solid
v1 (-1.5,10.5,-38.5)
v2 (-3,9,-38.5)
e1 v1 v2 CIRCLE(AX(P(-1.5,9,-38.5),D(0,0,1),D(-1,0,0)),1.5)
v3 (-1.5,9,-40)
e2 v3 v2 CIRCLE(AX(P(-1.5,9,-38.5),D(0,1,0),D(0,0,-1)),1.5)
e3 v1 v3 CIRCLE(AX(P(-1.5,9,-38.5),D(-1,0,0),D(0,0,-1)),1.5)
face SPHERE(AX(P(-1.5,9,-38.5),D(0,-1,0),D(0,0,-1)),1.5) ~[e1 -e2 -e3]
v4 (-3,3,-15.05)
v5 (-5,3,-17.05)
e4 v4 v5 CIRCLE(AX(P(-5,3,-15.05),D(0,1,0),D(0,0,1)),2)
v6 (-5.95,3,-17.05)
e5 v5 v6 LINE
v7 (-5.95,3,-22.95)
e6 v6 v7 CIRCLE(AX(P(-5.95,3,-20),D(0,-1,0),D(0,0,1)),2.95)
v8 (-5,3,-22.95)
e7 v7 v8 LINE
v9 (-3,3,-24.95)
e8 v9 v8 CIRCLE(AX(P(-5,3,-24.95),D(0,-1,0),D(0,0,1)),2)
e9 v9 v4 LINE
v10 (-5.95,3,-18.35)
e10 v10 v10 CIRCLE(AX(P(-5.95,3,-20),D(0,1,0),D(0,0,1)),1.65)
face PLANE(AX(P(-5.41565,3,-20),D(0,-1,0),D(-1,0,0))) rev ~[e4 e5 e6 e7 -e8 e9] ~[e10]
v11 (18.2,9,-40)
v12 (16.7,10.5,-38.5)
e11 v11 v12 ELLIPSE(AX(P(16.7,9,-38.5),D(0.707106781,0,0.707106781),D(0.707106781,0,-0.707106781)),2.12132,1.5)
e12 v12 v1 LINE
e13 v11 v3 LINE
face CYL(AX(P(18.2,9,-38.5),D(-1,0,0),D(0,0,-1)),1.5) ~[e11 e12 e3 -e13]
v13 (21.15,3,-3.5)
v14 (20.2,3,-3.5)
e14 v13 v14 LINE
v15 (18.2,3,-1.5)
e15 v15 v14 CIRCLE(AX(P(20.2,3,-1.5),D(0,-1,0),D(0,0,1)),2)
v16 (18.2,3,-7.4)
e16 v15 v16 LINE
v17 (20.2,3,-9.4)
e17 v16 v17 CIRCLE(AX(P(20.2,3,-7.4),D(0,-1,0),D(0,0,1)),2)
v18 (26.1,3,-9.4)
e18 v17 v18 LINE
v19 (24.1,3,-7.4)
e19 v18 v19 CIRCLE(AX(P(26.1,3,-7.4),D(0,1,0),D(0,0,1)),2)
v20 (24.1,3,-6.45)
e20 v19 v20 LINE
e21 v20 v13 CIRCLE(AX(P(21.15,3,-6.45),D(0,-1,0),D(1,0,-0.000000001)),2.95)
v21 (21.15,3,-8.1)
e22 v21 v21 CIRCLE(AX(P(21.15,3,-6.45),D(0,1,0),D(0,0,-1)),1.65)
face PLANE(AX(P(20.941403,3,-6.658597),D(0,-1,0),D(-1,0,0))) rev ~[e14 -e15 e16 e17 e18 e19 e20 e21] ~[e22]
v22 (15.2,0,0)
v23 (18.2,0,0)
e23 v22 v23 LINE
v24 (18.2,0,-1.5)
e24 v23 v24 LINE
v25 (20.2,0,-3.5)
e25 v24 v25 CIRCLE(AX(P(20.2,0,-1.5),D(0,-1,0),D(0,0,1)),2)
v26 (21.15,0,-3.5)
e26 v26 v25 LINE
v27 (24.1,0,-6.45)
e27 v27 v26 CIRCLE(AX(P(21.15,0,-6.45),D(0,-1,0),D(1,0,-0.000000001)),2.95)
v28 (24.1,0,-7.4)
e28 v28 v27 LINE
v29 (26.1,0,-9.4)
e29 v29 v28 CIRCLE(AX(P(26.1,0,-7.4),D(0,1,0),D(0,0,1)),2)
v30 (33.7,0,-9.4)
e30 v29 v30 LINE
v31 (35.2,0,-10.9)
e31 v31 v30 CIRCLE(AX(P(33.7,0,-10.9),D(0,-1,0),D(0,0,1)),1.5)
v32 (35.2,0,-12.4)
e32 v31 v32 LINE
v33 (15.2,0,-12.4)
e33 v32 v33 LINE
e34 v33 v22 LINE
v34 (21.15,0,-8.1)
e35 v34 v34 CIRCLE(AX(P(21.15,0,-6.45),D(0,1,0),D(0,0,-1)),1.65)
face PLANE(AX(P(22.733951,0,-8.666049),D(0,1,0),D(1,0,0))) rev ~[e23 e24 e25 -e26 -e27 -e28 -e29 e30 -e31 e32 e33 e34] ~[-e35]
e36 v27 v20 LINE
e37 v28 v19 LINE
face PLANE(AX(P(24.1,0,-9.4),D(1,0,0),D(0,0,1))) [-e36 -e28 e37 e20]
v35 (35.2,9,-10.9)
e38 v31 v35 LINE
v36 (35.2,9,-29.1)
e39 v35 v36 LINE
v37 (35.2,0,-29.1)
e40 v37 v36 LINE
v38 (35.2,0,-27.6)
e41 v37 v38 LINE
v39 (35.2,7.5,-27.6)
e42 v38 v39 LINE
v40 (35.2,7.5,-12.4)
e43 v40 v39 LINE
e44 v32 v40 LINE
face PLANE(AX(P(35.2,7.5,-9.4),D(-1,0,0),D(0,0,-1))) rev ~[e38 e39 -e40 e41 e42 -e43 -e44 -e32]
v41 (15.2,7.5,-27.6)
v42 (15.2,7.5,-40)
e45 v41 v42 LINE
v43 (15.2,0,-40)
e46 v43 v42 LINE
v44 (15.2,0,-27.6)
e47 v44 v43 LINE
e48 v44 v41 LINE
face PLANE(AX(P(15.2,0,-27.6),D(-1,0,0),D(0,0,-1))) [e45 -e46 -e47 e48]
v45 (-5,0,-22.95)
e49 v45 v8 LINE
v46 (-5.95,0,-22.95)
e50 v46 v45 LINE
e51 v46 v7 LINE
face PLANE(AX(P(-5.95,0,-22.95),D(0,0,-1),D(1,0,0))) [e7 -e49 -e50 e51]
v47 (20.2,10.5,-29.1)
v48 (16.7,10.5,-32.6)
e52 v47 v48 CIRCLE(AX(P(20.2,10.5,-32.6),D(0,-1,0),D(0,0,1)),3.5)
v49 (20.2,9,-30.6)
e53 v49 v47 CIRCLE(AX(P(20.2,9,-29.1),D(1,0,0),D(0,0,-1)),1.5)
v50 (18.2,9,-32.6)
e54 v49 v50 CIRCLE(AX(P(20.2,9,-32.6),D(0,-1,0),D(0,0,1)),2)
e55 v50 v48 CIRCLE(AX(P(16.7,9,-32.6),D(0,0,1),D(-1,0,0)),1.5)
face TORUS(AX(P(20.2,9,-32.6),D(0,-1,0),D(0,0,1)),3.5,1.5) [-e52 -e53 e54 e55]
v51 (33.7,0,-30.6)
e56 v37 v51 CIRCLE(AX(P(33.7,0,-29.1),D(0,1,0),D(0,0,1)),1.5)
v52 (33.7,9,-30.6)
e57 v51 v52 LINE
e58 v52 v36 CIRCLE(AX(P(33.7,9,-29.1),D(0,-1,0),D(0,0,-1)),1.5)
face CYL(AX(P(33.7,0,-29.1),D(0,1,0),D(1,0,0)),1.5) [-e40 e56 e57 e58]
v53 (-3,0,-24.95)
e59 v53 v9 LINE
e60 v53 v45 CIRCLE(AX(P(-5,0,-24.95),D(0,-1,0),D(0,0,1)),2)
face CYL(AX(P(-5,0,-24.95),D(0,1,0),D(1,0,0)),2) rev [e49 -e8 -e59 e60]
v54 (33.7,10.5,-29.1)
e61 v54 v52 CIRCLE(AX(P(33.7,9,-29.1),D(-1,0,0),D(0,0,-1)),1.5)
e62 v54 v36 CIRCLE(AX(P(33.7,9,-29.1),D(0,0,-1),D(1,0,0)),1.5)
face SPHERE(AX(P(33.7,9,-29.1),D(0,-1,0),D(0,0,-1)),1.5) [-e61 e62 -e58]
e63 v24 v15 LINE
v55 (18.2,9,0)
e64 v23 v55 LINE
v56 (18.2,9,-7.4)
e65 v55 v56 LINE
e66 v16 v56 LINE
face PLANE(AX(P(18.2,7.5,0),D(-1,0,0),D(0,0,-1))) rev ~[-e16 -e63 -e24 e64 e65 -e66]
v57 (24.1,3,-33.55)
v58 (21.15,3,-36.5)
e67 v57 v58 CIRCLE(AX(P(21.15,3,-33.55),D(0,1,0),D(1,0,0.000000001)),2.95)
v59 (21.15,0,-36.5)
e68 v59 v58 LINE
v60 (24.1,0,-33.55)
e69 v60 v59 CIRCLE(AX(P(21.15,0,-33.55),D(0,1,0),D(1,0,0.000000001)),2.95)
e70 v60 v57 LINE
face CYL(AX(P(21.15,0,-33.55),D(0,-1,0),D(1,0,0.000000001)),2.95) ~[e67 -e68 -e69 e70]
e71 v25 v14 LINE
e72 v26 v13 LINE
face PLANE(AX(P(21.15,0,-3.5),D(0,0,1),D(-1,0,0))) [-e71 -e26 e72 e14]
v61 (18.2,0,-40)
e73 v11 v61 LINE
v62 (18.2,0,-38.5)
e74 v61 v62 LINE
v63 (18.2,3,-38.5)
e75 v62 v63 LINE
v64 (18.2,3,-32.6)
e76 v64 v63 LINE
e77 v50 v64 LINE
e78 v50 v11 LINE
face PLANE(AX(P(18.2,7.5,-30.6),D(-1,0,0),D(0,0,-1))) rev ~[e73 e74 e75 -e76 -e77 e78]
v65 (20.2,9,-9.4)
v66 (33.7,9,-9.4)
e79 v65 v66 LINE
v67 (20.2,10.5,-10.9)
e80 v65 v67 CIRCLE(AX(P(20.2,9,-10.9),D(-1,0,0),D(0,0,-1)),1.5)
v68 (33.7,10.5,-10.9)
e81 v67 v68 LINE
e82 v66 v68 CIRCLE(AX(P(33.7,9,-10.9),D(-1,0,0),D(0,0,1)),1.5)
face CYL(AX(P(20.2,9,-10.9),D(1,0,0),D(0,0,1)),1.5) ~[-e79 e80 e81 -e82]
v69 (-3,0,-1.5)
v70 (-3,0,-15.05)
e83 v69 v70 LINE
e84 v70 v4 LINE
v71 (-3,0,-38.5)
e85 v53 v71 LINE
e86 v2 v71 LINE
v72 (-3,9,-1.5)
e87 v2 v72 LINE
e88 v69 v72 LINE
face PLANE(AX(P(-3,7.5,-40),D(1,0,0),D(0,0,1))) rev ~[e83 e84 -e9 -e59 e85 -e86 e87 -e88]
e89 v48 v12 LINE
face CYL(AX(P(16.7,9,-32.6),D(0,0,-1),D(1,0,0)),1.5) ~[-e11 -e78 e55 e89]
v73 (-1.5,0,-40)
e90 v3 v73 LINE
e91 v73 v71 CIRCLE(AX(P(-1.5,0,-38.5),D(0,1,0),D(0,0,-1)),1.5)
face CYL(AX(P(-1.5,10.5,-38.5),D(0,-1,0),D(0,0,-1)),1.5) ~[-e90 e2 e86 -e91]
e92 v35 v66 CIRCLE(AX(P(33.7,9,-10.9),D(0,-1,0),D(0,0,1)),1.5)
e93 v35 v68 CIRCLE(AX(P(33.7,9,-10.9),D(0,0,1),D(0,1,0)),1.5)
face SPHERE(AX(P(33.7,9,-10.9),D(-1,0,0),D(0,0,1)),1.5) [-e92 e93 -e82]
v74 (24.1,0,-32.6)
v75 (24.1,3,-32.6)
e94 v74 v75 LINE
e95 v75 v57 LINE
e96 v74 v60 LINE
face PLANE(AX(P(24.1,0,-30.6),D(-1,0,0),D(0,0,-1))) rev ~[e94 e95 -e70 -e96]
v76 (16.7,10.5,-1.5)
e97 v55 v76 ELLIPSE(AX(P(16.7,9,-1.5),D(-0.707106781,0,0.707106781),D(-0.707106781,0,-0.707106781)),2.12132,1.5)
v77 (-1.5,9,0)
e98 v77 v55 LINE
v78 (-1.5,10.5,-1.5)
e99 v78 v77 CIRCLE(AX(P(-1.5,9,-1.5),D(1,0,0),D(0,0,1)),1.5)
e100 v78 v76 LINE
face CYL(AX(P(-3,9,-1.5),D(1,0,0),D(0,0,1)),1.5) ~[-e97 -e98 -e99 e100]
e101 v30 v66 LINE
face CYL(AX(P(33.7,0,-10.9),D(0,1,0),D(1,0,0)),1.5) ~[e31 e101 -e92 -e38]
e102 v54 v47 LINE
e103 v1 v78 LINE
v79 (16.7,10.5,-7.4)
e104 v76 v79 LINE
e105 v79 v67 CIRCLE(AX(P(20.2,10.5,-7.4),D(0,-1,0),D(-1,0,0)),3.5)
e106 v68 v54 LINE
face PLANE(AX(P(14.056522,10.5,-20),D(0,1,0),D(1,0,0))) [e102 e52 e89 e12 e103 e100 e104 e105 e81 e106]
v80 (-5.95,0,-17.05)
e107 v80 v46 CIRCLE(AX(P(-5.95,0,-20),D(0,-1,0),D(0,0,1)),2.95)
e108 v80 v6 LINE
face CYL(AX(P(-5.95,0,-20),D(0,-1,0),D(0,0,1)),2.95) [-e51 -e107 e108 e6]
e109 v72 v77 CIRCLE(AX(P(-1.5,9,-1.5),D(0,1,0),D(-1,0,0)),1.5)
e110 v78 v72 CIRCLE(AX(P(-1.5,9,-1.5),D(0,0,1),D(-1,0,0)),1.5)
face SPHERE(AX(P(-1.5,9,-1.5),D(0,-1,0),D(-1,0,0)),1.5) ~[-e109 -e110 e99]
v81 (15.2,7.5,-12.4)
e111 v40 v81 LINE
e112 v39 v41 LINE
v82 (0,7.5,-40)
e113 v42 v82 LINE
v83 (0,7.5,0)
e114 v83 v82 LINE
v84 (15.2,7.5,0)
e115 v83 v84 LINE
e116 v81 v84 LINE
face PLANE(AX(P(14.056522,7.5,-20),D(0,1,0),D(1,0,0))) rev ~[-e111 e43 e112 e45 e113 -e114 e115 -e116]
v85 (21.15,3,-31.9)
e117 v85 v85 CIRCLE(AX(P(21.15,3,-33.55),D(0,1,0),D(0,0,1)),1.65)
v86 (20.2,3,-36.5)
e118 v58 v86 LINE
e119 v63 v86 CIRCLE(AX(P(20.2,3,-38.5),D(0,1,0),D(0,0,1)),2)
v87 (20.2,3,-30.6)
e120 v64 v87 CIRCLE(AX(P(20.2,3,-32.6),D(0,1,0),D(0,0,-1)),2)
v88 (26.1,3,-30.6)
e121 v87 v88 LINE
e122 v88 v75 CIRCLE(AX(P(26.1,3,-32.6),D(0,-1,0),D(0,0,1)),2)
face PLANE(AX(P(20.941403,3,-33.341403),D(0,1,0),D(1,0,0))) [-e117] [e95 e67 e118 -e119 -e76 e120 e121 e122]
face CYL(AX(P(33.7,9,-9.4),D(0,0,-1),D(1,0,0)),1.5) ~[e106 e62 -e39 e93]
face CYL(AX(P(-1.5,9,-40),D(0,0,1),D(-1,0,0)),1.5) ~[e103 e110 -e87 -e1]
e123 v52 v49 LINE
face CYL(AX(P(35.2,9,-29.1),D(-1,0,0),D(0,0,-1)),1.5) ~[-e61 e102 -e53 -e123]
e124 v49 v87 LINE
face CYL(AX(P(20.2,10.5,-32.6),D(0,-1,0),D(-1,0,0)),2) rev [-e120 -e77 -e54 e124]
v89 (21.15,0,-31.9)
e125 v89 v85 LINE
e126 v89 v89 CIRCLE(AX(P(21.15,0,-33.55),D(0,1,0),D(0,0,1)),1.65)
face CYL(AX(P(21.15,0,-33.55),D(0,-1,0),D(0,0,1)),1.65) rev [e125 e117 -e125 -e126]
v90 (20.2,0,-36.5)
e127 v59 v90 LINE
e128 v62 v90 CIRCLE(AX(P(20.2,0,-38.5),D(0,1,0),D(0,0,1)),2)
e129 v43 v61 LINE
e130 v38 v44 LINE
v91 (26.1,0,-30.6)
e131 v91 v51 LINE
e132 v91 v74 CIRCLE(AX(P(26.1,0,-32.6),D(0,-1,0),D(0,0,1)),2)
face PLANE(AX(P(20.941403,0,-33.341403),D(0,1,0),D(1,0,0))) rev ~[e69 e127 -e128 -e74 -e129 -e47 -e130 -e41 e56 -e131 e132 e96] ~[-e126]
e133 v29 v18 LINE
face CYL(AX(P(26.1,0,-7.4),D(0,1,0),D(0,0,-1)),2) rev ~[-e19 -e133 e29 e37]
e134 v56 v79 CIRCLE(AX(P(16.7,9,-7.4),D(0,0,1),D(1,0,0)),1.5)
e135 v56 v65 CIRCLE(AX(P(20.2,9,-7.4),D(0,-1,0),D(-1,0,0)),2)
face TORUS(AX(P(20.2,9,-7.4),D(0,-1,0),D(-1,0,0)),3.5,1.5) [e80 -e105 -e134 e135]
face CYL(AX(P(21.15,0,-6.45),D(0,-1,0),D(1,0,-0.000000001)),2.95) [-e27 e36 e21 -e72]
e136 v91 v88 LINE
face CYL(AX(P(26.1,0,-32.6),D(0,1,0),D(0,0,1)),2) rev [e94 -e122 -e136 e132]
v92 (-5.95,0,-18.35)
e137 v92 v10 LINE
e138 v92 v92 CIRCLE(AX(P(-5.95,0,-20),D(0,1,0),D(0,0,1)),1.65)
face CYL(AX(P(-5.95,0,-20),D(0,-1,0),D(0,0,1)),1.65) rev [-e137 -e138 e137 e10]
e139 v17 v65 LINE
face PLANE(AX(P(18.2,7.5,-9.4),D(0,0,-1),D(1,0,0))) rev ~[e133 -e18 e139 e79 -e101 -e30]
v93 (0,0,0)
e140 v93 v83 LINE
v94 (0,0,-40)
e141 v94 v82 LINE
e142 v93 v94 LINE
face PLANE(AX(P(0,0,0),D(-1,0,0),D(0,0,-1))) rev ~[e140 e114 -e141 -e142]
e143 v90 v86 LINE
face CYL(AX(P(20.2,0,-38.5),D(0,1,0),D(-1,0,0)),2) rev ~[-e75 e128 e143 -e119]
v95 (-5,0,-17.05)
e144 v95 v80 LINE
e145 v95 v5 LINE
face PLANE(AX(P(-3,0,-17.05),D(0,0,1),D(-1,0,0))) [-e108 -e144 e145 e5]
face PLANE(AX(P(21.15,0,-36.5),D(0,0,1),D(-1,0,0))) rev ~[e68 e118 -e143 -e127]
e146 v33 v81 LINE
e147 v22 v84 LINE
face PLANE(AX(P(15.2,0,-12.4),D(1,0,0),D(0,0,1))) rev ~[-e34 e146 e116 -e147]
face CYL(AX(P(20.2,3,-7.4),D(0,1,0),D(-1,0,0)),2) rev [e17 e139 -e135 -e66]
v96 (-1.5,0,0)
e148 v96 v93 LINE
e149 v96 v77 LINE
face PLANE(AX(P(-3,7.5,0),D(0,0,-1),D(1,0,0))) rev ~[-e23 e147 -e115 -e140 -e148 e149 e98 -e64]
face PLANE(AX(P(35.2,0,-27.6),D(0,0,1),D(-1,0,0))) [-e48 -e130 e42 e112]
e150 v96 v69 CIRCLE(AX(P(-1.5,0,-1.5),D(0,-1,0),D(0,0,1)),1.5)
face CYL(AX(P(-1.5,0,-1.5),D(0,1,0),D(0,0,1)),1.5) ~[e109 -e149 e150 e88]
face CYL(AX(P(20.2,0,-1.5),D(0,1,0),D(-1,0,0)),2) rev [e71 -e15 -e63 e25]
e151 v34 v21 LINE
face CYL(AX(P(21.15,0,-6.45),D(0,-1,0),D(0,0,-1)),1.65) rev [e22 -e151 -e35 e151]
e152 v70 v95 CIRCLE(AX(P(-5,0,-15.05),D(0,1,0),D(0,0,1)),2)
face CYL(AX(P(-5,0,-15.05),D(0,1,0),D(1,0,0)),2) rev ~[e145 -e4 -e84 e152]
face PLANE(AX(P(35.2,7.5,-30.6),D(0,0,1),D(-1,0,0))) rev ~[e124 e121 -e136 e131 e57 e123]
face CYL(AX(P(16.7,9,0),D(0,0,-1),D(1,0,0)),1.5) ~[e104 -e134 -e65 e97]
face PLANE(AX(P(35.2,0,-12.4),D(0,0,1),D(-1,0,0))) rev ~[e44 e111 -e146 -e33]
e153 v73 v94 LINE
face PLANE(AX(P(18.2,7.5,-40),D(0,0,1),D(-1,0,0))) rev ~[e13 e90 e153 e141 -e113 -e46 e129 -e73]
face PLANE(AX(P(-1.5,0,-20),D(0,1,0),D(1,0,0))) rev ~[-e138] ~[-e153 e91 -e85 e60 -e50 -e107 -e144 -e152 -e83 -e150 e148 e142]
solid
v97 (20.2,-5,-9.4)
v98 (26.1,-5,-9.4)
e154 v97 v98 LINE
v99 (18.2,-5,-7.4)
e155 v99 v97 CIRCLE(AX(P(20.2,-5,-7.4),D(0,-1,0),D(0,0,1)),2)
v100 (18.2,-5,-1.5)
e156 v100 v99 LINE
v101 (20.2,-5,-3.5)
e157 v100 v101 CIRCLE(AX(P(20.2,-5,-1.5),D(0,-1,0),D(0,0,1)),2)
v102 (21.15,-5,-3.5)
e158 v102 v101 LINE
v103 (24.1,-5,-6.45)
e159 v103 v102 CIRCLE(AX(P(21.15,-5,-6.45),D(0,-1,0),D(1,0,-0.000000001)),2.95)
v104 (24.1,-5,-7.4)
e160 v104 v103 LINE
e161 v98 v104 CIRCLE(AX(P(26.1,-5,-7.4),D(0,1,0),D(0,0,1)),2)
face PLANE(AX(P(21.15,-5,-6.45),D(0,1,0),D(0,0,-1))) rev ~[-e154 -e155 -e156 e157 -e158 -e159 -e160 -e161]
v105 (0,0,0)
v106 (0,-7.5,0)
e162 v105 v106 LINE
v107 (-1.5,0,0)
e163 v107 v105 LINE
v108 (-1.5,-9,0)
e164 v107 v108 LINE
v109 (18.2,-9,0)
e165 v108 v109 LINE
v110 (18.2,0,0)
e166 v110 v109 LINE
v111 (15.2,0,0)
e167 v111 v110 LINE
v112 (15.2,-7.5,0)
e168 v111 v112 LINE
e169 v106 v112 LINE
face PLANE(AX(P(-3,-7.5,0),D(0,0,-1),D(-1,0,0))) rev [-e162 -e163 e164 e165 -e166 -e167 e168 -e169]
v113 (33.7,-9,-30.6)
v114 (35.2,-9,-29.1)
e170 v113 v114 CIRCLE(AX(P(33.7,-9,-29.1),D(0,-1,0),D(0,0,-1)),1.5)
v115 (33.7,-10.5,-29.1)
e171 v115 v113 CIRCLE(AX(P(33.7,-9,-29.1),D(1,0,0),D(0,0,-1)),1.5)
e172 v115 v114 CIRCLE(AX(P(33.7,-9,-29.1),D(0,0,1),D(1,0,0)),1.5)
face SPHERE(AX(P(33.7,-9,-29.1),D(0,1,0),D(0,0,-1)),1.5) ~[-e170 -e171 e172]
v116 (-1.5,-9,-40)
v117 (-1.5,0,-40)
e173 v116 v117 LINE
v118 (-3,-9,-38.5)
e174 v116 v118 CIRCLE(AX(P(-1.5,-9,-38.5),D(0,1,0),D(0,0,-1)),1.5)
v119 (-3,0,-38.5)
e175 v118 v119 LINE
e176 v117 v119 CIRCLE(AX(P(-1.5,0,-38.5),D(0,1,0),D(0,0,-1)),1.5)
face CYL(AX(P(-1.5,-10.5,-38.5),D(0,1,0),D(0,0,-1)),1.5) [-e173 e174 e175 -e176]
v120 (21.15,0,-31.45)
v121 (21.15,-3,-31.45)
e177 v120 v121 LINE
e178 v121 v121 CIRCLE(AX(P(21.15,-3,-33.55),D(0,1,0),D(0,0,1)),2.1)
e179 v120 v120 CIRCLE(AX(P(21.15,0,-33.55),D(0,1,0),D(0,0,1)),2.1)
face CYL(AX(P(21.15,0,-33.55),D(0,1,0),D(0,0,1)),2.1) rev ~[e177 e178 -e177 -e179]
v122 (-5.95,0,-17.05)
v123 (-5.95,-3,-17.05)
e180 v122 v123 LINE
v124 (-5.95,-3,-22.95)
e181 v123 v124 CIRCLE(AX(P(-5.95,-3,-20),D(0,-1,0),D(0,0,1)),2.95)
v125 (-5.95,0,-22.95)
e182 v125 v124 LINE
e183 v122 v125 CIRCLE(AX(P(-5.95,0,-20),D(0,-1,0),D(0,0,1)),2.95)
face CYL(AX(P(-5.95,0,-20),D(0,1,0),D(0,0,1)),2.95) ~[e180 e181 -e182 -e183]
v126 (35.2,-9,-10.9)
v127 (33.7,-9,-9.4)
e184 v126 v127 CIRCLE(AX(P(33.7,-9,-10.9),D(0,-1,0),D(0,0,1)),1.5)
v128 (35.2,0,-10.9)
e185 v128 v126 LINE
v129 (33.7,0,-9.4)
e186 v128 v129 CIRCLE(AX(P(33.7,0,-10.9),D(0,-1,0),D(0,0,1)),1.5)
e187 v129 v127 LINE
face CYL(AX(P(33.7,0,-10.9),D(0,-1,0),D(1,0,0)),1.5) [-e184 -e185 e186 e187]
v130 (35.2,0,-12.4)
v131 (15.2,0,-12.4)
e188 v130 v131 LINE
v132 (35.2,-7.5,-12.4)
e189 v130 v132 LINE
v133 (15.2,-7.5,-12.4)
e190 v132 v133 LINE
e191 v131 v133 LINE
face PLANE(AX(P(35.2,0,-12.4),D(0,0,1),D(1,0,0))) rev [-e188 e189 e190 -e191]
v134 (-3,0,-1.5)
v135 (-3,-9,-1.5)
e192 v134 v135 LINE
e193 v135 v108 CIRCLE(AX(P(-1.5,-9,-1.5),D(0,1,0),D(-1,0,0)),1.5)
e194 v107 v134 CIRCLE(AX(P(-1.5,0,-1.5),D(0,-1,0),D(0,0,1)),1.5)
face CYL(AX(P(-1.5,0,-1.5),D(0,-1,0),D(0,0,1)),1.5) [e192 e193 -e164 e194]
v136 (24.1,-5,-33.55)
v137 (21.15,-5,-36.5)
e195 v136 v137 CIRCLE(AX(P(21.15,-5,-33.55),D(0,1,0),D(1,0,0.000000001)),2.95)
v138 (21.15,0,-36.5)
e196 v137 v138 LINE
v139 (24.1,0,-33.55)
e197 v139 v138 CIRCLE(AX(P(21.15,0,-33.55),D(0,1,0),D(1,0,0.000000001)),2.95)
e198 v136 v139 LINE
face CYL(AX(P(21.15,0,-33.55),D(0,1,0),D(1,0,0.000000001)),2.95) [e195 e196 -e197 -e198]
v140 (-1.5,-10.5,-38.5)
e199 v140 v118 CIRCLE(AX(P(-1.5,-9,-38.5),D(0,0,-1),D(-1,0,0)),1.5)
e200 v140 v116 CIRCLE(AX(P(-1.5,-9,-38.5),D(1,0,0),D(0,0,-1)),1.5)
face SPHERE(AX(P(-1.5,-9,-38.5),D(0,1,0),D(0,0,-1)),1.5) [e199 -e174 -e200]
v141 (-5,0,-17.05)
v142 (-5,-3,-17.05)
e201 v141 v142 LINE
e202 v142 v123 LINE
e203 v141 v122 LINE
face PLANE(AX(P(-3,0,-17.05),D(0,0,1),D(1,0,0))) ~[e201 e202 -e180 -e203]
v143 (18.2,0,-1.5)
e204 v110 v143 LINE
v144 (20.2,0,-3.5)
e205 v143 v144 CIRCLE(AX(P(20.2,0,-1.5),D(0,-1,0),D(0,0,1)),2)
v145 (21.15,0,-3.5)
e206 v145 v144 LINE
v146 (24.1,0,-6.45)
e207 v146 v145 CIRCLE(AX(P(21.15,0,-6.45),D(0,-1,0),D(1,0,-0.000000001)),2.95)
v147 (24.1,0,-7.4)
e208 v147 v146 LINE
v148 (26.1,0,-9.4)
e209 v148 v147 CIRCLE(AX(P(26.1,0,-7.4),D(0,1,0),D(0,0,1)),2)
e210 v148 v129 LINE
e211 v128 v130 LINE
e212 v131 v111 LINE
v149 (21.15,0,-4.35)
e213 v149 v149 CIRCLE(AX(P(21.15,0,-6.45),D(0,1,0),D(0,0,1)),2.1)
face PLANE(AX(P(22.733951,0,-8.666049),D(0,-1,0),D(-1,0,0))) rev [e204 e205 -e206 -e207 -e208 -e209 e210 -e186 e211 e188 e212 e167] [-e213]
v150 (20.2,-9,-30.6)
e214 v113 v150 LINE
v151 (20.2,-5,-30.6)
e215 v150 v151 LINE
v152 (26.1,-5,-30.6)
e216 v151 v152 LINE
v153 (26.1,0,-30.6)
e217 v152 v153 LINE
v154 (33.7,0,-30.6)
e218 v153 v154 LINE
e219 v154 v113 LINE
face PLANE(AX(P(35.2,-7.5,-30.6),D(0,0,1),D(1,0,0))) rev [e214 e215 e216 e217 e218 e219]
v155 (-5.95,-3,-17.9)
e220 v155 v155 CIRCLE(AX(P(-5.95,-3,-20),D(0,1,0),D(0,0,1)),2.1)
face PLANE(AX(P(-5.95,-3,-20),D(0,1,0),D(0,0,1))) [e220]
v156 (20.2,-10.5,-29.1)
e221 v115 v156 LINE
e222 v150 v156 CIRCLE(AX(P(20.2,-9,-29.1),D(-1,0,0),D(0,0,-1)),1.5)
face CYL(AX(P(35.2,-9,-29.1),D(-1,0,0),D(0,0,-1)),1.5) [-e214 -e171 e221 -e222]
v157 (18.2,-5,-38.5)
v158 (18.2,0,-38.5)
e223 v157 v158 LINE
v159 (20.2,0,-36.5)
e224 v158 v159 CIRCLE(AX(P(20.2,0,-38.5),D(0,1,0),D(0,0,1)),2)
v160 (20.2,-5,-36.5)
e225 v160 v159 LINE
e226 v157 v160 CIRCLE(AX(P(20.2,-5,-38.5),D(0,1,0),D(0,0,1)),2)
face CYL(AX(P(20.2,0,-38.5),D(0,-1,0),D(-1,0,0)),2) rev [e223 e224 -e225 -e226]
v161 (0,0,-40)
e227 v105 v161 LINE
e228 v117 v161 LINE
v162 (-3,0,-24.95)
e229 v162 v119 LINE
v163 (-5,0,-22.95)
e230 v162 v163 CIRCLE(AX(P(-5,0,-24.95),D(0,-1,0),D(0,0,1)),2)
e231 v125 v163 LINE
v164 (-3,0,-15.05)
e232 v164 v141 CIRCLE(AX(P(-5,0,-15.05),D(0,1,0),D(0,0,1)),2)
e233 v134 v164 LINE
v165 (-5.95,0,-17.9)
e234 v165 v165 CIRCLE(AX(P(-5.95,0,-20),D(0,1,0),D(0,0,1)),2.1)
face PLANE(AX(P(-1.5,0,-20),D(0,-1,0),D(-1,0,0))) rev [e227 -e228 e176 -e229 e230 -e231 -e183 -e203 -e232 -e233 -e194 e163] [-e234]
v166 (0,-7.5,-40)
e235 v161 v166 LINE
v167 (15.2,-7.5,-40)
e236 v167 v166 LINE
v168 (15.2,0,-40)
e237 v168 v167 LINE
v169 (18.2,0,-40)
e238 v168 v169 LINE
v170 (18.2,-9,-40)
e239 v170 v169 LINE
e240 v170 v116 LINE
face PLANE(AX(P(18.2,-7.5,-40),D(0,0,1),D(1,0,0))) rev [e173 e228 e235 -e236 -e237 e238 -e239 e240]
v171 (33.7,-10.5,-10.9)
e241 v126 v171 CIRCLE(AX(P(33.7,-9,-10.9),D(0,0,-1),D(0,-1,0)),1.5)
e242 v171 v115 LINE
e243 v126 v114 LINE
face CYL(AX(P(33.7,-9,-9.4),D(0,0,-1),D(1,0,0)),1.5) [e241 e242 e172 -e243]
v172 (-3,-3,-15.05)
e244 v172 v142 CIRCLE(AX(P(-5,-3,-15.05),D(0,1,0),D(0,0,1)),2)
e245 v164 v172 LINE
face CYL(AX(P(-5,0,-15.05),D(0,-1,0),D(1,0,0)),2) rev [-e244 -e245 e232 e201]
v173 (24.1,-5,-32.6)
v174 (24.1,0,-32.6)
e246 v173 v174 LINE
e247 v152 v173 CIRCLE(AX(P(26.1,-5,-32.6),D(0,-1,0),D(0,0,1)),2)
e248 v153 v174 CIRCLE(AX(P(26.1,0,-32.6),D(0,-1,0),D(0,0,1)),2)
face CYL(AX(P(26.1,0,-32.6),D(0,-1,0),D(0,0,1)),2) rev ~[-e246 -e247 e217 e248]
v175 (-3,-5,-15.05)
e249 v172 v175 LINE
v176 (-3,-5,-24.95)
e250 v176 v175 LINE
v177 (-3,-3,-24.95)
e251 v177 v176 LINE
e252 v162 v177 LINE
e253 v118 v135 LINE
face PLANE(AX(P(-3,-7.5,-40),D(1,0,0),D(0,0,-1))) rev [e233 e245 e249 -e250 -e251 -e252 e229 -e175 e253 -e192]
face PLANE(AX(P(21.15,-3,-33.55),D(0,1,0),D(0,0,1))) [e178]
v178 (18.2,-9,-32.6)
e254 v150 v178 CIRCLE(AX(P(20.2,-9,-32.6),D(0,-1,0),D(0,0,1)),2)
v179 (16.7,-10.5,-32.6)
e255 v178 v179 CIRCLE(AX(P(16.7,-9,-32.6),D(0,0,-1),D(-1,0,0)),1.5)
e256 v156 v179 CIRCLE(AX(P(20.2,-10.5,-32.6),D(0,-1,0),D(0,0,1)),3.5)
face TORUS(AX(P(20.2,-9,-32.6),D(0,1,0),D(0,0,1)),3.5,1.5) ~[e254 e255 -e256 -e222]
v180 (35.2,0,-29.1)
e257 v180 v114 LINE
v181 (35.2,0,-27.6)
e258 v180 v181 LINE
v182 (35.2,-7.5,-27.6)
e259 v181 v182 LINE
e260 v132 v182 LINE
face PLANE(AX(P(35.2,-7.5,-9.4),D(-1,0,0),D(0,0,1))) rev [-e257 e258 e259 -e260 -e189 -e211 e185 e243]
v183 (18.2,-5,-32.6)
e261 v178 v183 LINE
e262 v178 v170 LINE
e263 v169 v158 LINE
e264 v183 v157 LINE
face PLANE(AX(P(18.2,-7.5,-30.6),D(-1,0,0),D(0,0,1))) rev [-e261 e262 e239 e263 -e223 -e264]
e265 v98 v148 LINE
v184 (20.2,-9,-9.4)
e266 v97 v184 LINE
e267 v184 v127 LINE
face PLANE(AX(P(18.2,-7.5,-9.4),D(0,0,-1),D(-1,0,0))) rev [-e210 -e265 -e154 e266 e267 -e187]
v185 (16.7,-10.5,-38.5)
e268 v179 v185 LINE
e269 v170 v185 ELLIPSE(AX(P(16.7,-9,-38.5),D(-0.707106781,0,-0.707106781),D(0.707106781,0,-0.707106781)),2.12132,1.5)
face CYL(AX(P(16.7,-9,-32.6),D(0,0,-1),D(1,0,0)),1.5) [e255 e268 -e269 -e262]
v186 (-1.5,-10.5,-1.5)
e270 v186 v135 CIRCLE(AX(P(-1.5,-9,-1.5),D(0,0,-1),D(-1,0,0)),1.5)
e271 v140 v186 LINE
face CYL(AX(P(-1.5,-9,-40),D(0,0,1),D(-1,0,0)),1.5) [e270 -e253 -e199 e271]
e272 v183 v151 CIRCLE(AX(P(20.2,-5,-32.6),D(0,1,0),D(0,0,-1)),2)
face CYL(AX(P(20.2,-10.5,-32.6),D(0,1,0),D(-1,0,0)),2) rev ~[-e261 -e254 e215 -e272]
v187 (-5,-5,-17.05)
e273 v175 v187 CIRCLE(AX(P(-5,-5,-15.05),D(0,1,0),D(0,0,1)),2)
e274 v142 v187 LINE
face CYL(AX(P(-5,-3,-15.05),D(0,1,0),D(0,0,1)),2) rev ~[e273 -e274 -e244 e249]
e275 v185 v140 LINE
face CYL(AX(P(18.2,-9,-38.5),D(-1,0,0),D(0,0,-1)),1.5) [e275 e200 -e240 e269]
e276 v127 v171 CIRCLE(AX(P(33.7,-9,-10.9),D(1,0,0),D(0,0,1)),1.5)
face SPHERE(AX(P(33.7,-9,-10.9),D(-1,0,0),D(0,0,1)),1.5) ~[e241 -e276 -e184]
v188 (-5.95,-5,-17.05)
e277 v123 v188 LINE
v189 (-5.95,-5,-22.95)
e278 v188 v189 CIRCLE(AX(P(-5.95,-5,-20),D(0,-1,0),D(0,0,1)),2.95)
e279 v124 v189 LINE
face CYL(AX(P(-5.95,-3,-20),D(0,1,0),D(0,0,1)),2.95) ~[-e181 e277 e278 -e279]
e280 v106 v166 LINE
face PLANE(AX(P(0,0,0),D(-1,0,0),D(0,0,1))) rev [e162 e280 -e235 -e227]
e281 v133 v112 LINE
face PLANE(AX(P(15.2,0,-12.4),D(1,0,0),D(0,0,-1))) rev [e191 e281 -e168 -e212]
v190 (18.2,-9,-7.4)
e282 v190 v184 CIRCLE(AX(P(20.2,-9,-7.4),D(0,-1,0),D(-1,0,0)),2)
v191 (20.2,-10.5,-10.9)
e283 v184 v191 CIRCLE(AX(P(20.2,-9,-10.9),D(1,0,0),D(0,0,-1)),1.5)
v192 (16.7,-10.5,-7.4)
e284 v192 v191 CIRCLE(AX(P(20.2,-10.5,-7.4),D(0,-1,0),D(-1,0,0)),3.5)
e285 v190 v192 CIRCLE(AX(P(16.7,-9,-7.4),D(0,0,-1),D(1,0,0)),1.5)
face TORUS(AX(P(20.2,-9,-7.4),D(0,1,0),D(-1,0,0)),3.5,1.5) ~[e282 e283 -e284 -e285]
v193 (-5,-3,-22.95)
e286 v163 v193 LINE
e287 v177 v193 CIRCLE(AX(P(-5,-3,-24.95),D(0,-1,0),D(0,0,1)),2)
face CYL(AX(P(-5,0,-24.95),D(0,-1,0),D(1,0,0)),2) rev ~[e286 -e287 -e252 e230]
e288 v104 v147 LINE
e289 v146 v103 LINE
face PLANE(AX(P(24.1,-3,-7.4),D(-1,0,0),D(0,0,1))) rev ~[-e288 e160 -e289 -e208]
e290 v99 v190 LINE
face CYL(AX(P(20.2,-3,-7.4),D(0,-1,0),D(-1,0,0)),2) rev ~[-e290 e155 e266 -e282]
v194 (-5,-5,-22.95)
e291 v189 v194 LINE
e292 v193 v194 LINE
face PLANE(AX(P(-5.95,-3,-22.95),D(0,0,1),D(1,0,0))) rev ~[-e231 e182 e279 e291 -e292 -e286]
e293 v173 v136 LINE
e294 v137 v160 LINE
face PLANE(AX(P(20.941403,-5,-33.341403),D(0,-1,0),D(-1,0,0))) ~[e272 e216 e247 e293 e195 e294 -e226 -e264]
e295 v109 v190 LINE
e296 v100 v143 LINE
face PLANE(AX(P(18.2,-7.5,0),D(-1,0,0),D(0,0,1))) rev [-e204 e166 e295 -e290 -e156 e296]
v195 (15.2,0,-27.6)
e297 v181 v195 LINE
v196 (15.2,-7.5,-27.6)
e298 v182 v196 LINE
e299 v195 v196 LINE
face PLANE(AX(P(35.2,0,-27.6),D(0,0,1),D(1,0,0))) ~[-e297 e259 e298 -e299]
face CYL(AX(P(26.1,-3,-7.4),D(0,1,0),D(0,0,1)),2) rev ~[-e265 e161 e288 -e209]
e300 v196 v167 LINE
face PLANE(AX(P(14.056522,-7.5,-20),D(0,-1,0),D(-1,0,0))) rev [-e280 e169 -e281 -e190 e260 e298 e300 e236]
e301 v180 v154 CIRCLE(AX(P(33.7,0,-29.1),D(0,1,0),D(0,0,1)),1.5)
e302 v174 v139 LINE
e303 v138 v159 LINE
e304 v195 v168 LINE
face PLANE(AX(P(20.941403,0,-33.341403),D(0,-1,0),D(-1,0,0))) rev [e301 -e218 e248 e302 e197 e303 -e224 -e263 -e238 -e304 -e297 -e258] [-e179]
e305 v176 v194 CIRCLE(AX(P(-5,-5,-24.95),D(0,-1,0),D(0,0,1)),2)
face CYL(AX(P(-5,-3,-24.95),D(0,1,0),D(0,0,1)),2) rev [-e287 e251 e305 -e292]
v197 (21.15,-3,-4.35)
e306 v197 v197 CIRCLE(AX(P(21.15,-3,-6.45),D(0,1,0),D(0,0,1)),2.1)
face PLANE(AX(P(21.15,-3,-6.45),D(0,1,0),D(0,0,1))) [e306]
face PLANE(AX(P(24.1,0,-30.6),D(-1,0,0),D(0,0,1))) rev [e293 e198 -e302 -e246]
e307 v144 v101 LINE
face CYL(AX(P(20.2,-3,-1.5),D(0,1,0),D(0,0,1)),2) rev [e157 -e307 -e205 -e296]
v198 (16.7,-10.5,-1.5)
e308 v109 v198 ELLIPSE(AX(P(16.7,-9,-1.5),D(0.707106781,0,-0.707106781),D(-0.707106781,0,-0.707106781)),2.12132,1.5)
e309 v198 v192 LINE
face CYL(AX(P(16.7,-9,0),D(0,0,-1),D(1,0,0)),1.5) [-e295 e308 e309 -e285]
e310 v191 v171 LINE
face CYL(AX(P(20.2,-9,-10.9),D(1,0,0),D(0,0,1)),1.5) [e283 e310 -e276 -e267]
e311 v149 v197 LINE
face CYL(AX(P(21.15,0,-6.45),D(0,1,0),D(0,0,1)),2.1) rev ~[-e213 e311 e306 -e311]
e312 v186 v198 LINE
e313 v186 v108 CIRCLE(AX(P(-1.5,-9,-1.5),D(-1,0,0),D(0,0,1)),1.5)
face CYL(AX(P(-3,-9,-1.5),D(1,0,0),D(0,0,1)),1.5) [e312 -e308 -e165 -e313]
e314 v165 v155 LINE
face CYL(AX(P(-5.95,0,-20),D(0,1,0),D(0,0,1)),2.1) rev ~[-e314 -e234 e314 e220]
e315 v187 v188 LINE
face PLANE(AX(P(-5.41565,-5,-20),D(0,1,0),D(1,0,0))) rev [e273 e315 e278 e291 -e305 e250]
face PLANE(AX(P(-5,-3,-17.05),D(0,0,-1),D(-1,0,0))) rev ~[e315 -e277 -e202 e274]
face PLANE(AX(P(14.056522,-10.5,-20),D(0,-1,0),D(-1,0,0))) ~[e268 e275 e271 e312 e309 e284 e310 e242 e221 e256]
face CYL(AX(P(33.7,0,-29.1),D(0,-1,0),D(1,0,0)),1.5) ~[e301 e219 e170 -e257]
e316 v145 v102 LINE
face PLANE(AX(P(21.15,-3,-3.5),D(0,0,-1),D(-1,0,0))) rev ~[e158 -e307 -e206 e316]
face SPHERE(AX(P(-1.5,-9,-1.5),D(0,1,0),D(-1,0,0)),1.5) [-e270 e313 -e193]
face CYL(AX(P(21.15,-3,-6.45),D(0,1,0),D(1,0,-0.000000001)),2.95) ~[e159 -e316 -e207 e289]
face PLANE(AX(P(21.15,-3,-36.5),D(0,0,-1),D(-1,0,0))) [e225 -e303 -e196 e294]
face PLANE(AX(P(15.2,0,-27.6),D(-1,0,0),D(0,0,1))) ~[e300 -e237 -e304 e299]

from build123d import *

# Parameters (mm, degrees)
BOSS_EXTRUDE1_DEPTH   = 7.5
BOSS_EXTRUDE1_2_DEPTH = 7.5
SKETCH3_W             = 3
SKETCH3_H             = 40
BOSS_EXTRUDE1_3_DEPTH = 7.5
BOSS_EXTRUDE2_DEPTH   = 3
SKETCH5_R             = 1.65
BOSS_EXTRUDE3_DEPTH   = 3
FILLET1_R             = 2
FILLET2_R             = 2
FILLET3_R             = 1.5
BOSS_EXTRUDE4_START   = -3
SKETCH6_R             = 1.65
BOSS_EXTRUDE4_DEPTH   = 3
MOVE_FACE1_BY         = 2
MOVE_FACE1_2_BY       = 2
MOVE_FACE1_3_BY       = 2
SKETCH7_R             = 2.1
CUT_EXTRUDE1_DEPTH    = 3


with BuildPart() as part:
    # Sketch3 → Boss-Extrude1 (new body)
    with BuildSketch(Plane(origin=(0, 0, 0), x_dir=(1, 0, 0), z_dir=(0, 1, 0))):
        Polygon((35.2, 27.6), (15.2, 27.6), (15.2, 40), (18.2, 40), (18.2, 30.6), (35.2, 30.6), align=None)
    extrude(amount=BOSS_EXTRUDE1_DEPTH)



with BuildPart() as body_2:
    # Sketch3 → Boss-Extrude1 2 (new body)
    with BuildSketch(Plane(origin=(0, 0, 0), x_dir=(1, 0, 0), z_dir=(0, 1, 0))):
        Polygon((18.2, 9.4), (35.2, 9.4), (35.2, 12.4), (15.2, 12.4), (15.2, 0), (18.2, 0), align=None)
    extrude(amount=BOSS_EXTRUDE1_2_DEPTH)


with BuildPart() as body_3:
    # Sketch3 → Boss-Extrude1 3 (new body)
    with BuildSketch(Plane(origin=(0, 0, 0), x_dir=(1, 0, 0), z_dir=(0, 1, 0))):
        with Locations((-1.5, 20)):
            Rectangle(SKETCH3_W, SKETCH3_H)
    extrude(amount=BOSS_EXTRUDE1_3_DEPTH)


with BuildPart() as part_1:
    add(part.part)

    add(body_2.part)  # Boss-Extrude2 merges body 2

    add(body_3.part)  # Boss-Extrude2 merges body 3
    # Sketch4 → Boss-Extrude2 (add)
    with BuildSketch(Plane(origin=(0, 7.5, 0), x_dir=(1, 0, 0), z_dir=(0, 1, 0))):
        Polygon((-3, 40), (-3, 0), (18.2, 0), (18.2, 9.4), (35.2, 9.4), (35.2, 30.6), (18.2, 30.6), (18.2, 40), align=None)
    extrude(amount=BOSS_EXTRUDE2_DEPTH)

    # Sketch5 → Boss-Extrude3 (add)
    with BuildSketch(Plane(origin=(0, 0, 0), x_dir=(1, 0, 0), z_dir=(0, 1, 0))):
        with BuildLine():
            Line((21.15, 36.5), (18.2, 36.5))
            Line((18.2, 36.5), (18.2, 30.6))
            Line((18.2, 30.6), (24.1, 30.6))
            Line((24.1, 30.6), (24.1, 33.55))
            ThreePointArc((24.1, 33.55), (23.235965005, 35.635965005), (21.15, 36.5))
        make_face()
        with Locations(Location((21.15, 33.55, 0), (0, 0, 270))):
            Circle(SKETCH5_R, mode=Mode.SUBTRACT)
        with BuildLine():
            Line((24.1, 9.4), (24.1, 6.45))
            ThreePointArc((24.1, 6.45), (23.235965005, 4.364034995), (21.15, 3.5))
            Line((21.15, 3.5), (18.2, 3.5))
            Line((18.2, 3.5), (18.2, 9.4))
            Line((18.2, 9.4), (24.1, 9.4))
        make_face()
        with Locations(Location((21.15, 6.45, 0), (0, 0, 90))):
            Circle(SKETCH5_R, mode=Mode.SUBTRACT)
        with BuildLine():
            Line((-5.95, 22.95), (-3, 22.95))
            Line((-3, 22.95), (-3, 17.05))
            Line((-3, 17.05), (-5.95, 17.05))
            ThreePointArc((-5.95, 17.05), (-8.9, 20), (-5.95, 22.95))
        make_face()
        with Locations(Location((-5.95, 20, 0), (0, 0, 270))):
            Circle(SKETCH5_R, mode=Mode.SUBTRACT)
    extrude(amount=BOSS_EXTRUDE3_DEPTH)

    # Fillet1
    fillet1_edges = [part_1.edges().sort_by_distance(p)[0] for p in [
        (18.2, 6.75, -30.6),
        (18.2, 6.75, -9.4),
    ]]
    fillet(fillet1_edges, radius=FILLET1_R)

    # Fillet2
    fillet2_edges = [part_1.edges().sort_by_distance(p)[0] for p in [
        (18.2, 1.5, -36.5),
        (24.1, 1.5, -30.6),
        (-3, 1.5, -17.05),
        (-3, 1.5, -22.95),
        (24.1, 1.5, -9.4),
        (18.2, 1.5, -3.5),
    ]]
    fillet(fillet2_edges, radius=FILLET2_R)

    # Fillet3
    fillet3_edges = [part_1.edges().sort_by_distance(p)[0] for p in [
        (35.2, 5.25, -30.6),
        (27.7, 10.5, -9.4),
        (18.2, 10.5, -36.3),
        (18.785786438, 10.5, -8.814213562),
        (18.785786438, 10.5, -31.185786438),
        (-3, 5.25, -40),
        (-3, 5.25, 0),
        (35.2, 5.25, -9.4),
        (7.6, 10.5, -40),
        (-3, 10.5, -20),
        (7.6, 10.5, 0),
        (18.2, 10.5, -3.7),
        (35.2, 10.5, -20),
        (27.7, 10.5, -30.6),
    ]]
    fillet(fillet3_edges, radius=FILLET3_R)


with BuildPart() as body_2_2:
    # Mirror1: mirrored copy
    add(part_1.part.mirror(Plane(origin=(0, 0, 0), x_dir=(0, 0, 1), z_dir=(0, -1, 0))))

    # Sketch6 → Boss-Extrude4 (add)
    with BuildSketch(Plane(origin=(0, 0, 0), x_dir=(1, 0, 0), z_dir=(0, 1, 0)).offset(BOSS_EXTRUDE4_START)):
        with Locations(Location((21.15, 6.45, 0), (0, 0, 90))):
            Circle(SKETCH6_R)
        with Locations(Location((21.15, 33.55, 0), (0, 0, 270))):
            Circle(SKETCH6_R)
        with Locations(Location((-5.95, 20, 0), (0, 0, 270))):
            Circle(SKETCH6_R)
    extrude(amount=BOSS_EXTRUDE4_DEPTH)

    # Move Face1: a face moved outward by 2.0
    extrude(body_2_2.faces().sort_by_distance((21.109677146, -3, -33.509677146))[0], amount=MOVE_FACE1_BY, dir=(0, -1, 0))

    # Move Face1 2: a face moved outward by 2.0
    extrude(body_2_2.faces().sort_by_distance((21.109677146, -3, -6.490322854))[0], amount=MOVE_FACE1_2_BY, dir=(0, -1, 0))

    # Move Face1 3: a face moved outward by 2.0
    extrude(body_2_2.faces().sort_by_distance((-5.557976688, -3, -20))[0], amount=MOVE_FACE1_3_BY, dir=(0, -1, 0))

    # Sketch7 → Cut-Extrude1 (cut)
    with BuildSketch(Plane(origin=(0, 0, 0), x_dir=(1, 0, 0), z_dir=(0, 1, 0))):
        with Locations(Location((-5.95, 20, 0), (0, 0, 270))):
            Circle(SKETCH7_R)
        with Locations(Location((21.15, 33.55, 0), (0, 0, 270))):
            Circle(SKETCH7_R)
        with Locations(Location((21.15, 6.45, 0), (0, 0, 270))):
            Circle(SKETCH7_R)
    extrude(amount=-CUT_EXTRUDE1_DEPTH, mode=Mode.SUBTRACT)


solid = Compound([part_1.part, body_2_2.part])
